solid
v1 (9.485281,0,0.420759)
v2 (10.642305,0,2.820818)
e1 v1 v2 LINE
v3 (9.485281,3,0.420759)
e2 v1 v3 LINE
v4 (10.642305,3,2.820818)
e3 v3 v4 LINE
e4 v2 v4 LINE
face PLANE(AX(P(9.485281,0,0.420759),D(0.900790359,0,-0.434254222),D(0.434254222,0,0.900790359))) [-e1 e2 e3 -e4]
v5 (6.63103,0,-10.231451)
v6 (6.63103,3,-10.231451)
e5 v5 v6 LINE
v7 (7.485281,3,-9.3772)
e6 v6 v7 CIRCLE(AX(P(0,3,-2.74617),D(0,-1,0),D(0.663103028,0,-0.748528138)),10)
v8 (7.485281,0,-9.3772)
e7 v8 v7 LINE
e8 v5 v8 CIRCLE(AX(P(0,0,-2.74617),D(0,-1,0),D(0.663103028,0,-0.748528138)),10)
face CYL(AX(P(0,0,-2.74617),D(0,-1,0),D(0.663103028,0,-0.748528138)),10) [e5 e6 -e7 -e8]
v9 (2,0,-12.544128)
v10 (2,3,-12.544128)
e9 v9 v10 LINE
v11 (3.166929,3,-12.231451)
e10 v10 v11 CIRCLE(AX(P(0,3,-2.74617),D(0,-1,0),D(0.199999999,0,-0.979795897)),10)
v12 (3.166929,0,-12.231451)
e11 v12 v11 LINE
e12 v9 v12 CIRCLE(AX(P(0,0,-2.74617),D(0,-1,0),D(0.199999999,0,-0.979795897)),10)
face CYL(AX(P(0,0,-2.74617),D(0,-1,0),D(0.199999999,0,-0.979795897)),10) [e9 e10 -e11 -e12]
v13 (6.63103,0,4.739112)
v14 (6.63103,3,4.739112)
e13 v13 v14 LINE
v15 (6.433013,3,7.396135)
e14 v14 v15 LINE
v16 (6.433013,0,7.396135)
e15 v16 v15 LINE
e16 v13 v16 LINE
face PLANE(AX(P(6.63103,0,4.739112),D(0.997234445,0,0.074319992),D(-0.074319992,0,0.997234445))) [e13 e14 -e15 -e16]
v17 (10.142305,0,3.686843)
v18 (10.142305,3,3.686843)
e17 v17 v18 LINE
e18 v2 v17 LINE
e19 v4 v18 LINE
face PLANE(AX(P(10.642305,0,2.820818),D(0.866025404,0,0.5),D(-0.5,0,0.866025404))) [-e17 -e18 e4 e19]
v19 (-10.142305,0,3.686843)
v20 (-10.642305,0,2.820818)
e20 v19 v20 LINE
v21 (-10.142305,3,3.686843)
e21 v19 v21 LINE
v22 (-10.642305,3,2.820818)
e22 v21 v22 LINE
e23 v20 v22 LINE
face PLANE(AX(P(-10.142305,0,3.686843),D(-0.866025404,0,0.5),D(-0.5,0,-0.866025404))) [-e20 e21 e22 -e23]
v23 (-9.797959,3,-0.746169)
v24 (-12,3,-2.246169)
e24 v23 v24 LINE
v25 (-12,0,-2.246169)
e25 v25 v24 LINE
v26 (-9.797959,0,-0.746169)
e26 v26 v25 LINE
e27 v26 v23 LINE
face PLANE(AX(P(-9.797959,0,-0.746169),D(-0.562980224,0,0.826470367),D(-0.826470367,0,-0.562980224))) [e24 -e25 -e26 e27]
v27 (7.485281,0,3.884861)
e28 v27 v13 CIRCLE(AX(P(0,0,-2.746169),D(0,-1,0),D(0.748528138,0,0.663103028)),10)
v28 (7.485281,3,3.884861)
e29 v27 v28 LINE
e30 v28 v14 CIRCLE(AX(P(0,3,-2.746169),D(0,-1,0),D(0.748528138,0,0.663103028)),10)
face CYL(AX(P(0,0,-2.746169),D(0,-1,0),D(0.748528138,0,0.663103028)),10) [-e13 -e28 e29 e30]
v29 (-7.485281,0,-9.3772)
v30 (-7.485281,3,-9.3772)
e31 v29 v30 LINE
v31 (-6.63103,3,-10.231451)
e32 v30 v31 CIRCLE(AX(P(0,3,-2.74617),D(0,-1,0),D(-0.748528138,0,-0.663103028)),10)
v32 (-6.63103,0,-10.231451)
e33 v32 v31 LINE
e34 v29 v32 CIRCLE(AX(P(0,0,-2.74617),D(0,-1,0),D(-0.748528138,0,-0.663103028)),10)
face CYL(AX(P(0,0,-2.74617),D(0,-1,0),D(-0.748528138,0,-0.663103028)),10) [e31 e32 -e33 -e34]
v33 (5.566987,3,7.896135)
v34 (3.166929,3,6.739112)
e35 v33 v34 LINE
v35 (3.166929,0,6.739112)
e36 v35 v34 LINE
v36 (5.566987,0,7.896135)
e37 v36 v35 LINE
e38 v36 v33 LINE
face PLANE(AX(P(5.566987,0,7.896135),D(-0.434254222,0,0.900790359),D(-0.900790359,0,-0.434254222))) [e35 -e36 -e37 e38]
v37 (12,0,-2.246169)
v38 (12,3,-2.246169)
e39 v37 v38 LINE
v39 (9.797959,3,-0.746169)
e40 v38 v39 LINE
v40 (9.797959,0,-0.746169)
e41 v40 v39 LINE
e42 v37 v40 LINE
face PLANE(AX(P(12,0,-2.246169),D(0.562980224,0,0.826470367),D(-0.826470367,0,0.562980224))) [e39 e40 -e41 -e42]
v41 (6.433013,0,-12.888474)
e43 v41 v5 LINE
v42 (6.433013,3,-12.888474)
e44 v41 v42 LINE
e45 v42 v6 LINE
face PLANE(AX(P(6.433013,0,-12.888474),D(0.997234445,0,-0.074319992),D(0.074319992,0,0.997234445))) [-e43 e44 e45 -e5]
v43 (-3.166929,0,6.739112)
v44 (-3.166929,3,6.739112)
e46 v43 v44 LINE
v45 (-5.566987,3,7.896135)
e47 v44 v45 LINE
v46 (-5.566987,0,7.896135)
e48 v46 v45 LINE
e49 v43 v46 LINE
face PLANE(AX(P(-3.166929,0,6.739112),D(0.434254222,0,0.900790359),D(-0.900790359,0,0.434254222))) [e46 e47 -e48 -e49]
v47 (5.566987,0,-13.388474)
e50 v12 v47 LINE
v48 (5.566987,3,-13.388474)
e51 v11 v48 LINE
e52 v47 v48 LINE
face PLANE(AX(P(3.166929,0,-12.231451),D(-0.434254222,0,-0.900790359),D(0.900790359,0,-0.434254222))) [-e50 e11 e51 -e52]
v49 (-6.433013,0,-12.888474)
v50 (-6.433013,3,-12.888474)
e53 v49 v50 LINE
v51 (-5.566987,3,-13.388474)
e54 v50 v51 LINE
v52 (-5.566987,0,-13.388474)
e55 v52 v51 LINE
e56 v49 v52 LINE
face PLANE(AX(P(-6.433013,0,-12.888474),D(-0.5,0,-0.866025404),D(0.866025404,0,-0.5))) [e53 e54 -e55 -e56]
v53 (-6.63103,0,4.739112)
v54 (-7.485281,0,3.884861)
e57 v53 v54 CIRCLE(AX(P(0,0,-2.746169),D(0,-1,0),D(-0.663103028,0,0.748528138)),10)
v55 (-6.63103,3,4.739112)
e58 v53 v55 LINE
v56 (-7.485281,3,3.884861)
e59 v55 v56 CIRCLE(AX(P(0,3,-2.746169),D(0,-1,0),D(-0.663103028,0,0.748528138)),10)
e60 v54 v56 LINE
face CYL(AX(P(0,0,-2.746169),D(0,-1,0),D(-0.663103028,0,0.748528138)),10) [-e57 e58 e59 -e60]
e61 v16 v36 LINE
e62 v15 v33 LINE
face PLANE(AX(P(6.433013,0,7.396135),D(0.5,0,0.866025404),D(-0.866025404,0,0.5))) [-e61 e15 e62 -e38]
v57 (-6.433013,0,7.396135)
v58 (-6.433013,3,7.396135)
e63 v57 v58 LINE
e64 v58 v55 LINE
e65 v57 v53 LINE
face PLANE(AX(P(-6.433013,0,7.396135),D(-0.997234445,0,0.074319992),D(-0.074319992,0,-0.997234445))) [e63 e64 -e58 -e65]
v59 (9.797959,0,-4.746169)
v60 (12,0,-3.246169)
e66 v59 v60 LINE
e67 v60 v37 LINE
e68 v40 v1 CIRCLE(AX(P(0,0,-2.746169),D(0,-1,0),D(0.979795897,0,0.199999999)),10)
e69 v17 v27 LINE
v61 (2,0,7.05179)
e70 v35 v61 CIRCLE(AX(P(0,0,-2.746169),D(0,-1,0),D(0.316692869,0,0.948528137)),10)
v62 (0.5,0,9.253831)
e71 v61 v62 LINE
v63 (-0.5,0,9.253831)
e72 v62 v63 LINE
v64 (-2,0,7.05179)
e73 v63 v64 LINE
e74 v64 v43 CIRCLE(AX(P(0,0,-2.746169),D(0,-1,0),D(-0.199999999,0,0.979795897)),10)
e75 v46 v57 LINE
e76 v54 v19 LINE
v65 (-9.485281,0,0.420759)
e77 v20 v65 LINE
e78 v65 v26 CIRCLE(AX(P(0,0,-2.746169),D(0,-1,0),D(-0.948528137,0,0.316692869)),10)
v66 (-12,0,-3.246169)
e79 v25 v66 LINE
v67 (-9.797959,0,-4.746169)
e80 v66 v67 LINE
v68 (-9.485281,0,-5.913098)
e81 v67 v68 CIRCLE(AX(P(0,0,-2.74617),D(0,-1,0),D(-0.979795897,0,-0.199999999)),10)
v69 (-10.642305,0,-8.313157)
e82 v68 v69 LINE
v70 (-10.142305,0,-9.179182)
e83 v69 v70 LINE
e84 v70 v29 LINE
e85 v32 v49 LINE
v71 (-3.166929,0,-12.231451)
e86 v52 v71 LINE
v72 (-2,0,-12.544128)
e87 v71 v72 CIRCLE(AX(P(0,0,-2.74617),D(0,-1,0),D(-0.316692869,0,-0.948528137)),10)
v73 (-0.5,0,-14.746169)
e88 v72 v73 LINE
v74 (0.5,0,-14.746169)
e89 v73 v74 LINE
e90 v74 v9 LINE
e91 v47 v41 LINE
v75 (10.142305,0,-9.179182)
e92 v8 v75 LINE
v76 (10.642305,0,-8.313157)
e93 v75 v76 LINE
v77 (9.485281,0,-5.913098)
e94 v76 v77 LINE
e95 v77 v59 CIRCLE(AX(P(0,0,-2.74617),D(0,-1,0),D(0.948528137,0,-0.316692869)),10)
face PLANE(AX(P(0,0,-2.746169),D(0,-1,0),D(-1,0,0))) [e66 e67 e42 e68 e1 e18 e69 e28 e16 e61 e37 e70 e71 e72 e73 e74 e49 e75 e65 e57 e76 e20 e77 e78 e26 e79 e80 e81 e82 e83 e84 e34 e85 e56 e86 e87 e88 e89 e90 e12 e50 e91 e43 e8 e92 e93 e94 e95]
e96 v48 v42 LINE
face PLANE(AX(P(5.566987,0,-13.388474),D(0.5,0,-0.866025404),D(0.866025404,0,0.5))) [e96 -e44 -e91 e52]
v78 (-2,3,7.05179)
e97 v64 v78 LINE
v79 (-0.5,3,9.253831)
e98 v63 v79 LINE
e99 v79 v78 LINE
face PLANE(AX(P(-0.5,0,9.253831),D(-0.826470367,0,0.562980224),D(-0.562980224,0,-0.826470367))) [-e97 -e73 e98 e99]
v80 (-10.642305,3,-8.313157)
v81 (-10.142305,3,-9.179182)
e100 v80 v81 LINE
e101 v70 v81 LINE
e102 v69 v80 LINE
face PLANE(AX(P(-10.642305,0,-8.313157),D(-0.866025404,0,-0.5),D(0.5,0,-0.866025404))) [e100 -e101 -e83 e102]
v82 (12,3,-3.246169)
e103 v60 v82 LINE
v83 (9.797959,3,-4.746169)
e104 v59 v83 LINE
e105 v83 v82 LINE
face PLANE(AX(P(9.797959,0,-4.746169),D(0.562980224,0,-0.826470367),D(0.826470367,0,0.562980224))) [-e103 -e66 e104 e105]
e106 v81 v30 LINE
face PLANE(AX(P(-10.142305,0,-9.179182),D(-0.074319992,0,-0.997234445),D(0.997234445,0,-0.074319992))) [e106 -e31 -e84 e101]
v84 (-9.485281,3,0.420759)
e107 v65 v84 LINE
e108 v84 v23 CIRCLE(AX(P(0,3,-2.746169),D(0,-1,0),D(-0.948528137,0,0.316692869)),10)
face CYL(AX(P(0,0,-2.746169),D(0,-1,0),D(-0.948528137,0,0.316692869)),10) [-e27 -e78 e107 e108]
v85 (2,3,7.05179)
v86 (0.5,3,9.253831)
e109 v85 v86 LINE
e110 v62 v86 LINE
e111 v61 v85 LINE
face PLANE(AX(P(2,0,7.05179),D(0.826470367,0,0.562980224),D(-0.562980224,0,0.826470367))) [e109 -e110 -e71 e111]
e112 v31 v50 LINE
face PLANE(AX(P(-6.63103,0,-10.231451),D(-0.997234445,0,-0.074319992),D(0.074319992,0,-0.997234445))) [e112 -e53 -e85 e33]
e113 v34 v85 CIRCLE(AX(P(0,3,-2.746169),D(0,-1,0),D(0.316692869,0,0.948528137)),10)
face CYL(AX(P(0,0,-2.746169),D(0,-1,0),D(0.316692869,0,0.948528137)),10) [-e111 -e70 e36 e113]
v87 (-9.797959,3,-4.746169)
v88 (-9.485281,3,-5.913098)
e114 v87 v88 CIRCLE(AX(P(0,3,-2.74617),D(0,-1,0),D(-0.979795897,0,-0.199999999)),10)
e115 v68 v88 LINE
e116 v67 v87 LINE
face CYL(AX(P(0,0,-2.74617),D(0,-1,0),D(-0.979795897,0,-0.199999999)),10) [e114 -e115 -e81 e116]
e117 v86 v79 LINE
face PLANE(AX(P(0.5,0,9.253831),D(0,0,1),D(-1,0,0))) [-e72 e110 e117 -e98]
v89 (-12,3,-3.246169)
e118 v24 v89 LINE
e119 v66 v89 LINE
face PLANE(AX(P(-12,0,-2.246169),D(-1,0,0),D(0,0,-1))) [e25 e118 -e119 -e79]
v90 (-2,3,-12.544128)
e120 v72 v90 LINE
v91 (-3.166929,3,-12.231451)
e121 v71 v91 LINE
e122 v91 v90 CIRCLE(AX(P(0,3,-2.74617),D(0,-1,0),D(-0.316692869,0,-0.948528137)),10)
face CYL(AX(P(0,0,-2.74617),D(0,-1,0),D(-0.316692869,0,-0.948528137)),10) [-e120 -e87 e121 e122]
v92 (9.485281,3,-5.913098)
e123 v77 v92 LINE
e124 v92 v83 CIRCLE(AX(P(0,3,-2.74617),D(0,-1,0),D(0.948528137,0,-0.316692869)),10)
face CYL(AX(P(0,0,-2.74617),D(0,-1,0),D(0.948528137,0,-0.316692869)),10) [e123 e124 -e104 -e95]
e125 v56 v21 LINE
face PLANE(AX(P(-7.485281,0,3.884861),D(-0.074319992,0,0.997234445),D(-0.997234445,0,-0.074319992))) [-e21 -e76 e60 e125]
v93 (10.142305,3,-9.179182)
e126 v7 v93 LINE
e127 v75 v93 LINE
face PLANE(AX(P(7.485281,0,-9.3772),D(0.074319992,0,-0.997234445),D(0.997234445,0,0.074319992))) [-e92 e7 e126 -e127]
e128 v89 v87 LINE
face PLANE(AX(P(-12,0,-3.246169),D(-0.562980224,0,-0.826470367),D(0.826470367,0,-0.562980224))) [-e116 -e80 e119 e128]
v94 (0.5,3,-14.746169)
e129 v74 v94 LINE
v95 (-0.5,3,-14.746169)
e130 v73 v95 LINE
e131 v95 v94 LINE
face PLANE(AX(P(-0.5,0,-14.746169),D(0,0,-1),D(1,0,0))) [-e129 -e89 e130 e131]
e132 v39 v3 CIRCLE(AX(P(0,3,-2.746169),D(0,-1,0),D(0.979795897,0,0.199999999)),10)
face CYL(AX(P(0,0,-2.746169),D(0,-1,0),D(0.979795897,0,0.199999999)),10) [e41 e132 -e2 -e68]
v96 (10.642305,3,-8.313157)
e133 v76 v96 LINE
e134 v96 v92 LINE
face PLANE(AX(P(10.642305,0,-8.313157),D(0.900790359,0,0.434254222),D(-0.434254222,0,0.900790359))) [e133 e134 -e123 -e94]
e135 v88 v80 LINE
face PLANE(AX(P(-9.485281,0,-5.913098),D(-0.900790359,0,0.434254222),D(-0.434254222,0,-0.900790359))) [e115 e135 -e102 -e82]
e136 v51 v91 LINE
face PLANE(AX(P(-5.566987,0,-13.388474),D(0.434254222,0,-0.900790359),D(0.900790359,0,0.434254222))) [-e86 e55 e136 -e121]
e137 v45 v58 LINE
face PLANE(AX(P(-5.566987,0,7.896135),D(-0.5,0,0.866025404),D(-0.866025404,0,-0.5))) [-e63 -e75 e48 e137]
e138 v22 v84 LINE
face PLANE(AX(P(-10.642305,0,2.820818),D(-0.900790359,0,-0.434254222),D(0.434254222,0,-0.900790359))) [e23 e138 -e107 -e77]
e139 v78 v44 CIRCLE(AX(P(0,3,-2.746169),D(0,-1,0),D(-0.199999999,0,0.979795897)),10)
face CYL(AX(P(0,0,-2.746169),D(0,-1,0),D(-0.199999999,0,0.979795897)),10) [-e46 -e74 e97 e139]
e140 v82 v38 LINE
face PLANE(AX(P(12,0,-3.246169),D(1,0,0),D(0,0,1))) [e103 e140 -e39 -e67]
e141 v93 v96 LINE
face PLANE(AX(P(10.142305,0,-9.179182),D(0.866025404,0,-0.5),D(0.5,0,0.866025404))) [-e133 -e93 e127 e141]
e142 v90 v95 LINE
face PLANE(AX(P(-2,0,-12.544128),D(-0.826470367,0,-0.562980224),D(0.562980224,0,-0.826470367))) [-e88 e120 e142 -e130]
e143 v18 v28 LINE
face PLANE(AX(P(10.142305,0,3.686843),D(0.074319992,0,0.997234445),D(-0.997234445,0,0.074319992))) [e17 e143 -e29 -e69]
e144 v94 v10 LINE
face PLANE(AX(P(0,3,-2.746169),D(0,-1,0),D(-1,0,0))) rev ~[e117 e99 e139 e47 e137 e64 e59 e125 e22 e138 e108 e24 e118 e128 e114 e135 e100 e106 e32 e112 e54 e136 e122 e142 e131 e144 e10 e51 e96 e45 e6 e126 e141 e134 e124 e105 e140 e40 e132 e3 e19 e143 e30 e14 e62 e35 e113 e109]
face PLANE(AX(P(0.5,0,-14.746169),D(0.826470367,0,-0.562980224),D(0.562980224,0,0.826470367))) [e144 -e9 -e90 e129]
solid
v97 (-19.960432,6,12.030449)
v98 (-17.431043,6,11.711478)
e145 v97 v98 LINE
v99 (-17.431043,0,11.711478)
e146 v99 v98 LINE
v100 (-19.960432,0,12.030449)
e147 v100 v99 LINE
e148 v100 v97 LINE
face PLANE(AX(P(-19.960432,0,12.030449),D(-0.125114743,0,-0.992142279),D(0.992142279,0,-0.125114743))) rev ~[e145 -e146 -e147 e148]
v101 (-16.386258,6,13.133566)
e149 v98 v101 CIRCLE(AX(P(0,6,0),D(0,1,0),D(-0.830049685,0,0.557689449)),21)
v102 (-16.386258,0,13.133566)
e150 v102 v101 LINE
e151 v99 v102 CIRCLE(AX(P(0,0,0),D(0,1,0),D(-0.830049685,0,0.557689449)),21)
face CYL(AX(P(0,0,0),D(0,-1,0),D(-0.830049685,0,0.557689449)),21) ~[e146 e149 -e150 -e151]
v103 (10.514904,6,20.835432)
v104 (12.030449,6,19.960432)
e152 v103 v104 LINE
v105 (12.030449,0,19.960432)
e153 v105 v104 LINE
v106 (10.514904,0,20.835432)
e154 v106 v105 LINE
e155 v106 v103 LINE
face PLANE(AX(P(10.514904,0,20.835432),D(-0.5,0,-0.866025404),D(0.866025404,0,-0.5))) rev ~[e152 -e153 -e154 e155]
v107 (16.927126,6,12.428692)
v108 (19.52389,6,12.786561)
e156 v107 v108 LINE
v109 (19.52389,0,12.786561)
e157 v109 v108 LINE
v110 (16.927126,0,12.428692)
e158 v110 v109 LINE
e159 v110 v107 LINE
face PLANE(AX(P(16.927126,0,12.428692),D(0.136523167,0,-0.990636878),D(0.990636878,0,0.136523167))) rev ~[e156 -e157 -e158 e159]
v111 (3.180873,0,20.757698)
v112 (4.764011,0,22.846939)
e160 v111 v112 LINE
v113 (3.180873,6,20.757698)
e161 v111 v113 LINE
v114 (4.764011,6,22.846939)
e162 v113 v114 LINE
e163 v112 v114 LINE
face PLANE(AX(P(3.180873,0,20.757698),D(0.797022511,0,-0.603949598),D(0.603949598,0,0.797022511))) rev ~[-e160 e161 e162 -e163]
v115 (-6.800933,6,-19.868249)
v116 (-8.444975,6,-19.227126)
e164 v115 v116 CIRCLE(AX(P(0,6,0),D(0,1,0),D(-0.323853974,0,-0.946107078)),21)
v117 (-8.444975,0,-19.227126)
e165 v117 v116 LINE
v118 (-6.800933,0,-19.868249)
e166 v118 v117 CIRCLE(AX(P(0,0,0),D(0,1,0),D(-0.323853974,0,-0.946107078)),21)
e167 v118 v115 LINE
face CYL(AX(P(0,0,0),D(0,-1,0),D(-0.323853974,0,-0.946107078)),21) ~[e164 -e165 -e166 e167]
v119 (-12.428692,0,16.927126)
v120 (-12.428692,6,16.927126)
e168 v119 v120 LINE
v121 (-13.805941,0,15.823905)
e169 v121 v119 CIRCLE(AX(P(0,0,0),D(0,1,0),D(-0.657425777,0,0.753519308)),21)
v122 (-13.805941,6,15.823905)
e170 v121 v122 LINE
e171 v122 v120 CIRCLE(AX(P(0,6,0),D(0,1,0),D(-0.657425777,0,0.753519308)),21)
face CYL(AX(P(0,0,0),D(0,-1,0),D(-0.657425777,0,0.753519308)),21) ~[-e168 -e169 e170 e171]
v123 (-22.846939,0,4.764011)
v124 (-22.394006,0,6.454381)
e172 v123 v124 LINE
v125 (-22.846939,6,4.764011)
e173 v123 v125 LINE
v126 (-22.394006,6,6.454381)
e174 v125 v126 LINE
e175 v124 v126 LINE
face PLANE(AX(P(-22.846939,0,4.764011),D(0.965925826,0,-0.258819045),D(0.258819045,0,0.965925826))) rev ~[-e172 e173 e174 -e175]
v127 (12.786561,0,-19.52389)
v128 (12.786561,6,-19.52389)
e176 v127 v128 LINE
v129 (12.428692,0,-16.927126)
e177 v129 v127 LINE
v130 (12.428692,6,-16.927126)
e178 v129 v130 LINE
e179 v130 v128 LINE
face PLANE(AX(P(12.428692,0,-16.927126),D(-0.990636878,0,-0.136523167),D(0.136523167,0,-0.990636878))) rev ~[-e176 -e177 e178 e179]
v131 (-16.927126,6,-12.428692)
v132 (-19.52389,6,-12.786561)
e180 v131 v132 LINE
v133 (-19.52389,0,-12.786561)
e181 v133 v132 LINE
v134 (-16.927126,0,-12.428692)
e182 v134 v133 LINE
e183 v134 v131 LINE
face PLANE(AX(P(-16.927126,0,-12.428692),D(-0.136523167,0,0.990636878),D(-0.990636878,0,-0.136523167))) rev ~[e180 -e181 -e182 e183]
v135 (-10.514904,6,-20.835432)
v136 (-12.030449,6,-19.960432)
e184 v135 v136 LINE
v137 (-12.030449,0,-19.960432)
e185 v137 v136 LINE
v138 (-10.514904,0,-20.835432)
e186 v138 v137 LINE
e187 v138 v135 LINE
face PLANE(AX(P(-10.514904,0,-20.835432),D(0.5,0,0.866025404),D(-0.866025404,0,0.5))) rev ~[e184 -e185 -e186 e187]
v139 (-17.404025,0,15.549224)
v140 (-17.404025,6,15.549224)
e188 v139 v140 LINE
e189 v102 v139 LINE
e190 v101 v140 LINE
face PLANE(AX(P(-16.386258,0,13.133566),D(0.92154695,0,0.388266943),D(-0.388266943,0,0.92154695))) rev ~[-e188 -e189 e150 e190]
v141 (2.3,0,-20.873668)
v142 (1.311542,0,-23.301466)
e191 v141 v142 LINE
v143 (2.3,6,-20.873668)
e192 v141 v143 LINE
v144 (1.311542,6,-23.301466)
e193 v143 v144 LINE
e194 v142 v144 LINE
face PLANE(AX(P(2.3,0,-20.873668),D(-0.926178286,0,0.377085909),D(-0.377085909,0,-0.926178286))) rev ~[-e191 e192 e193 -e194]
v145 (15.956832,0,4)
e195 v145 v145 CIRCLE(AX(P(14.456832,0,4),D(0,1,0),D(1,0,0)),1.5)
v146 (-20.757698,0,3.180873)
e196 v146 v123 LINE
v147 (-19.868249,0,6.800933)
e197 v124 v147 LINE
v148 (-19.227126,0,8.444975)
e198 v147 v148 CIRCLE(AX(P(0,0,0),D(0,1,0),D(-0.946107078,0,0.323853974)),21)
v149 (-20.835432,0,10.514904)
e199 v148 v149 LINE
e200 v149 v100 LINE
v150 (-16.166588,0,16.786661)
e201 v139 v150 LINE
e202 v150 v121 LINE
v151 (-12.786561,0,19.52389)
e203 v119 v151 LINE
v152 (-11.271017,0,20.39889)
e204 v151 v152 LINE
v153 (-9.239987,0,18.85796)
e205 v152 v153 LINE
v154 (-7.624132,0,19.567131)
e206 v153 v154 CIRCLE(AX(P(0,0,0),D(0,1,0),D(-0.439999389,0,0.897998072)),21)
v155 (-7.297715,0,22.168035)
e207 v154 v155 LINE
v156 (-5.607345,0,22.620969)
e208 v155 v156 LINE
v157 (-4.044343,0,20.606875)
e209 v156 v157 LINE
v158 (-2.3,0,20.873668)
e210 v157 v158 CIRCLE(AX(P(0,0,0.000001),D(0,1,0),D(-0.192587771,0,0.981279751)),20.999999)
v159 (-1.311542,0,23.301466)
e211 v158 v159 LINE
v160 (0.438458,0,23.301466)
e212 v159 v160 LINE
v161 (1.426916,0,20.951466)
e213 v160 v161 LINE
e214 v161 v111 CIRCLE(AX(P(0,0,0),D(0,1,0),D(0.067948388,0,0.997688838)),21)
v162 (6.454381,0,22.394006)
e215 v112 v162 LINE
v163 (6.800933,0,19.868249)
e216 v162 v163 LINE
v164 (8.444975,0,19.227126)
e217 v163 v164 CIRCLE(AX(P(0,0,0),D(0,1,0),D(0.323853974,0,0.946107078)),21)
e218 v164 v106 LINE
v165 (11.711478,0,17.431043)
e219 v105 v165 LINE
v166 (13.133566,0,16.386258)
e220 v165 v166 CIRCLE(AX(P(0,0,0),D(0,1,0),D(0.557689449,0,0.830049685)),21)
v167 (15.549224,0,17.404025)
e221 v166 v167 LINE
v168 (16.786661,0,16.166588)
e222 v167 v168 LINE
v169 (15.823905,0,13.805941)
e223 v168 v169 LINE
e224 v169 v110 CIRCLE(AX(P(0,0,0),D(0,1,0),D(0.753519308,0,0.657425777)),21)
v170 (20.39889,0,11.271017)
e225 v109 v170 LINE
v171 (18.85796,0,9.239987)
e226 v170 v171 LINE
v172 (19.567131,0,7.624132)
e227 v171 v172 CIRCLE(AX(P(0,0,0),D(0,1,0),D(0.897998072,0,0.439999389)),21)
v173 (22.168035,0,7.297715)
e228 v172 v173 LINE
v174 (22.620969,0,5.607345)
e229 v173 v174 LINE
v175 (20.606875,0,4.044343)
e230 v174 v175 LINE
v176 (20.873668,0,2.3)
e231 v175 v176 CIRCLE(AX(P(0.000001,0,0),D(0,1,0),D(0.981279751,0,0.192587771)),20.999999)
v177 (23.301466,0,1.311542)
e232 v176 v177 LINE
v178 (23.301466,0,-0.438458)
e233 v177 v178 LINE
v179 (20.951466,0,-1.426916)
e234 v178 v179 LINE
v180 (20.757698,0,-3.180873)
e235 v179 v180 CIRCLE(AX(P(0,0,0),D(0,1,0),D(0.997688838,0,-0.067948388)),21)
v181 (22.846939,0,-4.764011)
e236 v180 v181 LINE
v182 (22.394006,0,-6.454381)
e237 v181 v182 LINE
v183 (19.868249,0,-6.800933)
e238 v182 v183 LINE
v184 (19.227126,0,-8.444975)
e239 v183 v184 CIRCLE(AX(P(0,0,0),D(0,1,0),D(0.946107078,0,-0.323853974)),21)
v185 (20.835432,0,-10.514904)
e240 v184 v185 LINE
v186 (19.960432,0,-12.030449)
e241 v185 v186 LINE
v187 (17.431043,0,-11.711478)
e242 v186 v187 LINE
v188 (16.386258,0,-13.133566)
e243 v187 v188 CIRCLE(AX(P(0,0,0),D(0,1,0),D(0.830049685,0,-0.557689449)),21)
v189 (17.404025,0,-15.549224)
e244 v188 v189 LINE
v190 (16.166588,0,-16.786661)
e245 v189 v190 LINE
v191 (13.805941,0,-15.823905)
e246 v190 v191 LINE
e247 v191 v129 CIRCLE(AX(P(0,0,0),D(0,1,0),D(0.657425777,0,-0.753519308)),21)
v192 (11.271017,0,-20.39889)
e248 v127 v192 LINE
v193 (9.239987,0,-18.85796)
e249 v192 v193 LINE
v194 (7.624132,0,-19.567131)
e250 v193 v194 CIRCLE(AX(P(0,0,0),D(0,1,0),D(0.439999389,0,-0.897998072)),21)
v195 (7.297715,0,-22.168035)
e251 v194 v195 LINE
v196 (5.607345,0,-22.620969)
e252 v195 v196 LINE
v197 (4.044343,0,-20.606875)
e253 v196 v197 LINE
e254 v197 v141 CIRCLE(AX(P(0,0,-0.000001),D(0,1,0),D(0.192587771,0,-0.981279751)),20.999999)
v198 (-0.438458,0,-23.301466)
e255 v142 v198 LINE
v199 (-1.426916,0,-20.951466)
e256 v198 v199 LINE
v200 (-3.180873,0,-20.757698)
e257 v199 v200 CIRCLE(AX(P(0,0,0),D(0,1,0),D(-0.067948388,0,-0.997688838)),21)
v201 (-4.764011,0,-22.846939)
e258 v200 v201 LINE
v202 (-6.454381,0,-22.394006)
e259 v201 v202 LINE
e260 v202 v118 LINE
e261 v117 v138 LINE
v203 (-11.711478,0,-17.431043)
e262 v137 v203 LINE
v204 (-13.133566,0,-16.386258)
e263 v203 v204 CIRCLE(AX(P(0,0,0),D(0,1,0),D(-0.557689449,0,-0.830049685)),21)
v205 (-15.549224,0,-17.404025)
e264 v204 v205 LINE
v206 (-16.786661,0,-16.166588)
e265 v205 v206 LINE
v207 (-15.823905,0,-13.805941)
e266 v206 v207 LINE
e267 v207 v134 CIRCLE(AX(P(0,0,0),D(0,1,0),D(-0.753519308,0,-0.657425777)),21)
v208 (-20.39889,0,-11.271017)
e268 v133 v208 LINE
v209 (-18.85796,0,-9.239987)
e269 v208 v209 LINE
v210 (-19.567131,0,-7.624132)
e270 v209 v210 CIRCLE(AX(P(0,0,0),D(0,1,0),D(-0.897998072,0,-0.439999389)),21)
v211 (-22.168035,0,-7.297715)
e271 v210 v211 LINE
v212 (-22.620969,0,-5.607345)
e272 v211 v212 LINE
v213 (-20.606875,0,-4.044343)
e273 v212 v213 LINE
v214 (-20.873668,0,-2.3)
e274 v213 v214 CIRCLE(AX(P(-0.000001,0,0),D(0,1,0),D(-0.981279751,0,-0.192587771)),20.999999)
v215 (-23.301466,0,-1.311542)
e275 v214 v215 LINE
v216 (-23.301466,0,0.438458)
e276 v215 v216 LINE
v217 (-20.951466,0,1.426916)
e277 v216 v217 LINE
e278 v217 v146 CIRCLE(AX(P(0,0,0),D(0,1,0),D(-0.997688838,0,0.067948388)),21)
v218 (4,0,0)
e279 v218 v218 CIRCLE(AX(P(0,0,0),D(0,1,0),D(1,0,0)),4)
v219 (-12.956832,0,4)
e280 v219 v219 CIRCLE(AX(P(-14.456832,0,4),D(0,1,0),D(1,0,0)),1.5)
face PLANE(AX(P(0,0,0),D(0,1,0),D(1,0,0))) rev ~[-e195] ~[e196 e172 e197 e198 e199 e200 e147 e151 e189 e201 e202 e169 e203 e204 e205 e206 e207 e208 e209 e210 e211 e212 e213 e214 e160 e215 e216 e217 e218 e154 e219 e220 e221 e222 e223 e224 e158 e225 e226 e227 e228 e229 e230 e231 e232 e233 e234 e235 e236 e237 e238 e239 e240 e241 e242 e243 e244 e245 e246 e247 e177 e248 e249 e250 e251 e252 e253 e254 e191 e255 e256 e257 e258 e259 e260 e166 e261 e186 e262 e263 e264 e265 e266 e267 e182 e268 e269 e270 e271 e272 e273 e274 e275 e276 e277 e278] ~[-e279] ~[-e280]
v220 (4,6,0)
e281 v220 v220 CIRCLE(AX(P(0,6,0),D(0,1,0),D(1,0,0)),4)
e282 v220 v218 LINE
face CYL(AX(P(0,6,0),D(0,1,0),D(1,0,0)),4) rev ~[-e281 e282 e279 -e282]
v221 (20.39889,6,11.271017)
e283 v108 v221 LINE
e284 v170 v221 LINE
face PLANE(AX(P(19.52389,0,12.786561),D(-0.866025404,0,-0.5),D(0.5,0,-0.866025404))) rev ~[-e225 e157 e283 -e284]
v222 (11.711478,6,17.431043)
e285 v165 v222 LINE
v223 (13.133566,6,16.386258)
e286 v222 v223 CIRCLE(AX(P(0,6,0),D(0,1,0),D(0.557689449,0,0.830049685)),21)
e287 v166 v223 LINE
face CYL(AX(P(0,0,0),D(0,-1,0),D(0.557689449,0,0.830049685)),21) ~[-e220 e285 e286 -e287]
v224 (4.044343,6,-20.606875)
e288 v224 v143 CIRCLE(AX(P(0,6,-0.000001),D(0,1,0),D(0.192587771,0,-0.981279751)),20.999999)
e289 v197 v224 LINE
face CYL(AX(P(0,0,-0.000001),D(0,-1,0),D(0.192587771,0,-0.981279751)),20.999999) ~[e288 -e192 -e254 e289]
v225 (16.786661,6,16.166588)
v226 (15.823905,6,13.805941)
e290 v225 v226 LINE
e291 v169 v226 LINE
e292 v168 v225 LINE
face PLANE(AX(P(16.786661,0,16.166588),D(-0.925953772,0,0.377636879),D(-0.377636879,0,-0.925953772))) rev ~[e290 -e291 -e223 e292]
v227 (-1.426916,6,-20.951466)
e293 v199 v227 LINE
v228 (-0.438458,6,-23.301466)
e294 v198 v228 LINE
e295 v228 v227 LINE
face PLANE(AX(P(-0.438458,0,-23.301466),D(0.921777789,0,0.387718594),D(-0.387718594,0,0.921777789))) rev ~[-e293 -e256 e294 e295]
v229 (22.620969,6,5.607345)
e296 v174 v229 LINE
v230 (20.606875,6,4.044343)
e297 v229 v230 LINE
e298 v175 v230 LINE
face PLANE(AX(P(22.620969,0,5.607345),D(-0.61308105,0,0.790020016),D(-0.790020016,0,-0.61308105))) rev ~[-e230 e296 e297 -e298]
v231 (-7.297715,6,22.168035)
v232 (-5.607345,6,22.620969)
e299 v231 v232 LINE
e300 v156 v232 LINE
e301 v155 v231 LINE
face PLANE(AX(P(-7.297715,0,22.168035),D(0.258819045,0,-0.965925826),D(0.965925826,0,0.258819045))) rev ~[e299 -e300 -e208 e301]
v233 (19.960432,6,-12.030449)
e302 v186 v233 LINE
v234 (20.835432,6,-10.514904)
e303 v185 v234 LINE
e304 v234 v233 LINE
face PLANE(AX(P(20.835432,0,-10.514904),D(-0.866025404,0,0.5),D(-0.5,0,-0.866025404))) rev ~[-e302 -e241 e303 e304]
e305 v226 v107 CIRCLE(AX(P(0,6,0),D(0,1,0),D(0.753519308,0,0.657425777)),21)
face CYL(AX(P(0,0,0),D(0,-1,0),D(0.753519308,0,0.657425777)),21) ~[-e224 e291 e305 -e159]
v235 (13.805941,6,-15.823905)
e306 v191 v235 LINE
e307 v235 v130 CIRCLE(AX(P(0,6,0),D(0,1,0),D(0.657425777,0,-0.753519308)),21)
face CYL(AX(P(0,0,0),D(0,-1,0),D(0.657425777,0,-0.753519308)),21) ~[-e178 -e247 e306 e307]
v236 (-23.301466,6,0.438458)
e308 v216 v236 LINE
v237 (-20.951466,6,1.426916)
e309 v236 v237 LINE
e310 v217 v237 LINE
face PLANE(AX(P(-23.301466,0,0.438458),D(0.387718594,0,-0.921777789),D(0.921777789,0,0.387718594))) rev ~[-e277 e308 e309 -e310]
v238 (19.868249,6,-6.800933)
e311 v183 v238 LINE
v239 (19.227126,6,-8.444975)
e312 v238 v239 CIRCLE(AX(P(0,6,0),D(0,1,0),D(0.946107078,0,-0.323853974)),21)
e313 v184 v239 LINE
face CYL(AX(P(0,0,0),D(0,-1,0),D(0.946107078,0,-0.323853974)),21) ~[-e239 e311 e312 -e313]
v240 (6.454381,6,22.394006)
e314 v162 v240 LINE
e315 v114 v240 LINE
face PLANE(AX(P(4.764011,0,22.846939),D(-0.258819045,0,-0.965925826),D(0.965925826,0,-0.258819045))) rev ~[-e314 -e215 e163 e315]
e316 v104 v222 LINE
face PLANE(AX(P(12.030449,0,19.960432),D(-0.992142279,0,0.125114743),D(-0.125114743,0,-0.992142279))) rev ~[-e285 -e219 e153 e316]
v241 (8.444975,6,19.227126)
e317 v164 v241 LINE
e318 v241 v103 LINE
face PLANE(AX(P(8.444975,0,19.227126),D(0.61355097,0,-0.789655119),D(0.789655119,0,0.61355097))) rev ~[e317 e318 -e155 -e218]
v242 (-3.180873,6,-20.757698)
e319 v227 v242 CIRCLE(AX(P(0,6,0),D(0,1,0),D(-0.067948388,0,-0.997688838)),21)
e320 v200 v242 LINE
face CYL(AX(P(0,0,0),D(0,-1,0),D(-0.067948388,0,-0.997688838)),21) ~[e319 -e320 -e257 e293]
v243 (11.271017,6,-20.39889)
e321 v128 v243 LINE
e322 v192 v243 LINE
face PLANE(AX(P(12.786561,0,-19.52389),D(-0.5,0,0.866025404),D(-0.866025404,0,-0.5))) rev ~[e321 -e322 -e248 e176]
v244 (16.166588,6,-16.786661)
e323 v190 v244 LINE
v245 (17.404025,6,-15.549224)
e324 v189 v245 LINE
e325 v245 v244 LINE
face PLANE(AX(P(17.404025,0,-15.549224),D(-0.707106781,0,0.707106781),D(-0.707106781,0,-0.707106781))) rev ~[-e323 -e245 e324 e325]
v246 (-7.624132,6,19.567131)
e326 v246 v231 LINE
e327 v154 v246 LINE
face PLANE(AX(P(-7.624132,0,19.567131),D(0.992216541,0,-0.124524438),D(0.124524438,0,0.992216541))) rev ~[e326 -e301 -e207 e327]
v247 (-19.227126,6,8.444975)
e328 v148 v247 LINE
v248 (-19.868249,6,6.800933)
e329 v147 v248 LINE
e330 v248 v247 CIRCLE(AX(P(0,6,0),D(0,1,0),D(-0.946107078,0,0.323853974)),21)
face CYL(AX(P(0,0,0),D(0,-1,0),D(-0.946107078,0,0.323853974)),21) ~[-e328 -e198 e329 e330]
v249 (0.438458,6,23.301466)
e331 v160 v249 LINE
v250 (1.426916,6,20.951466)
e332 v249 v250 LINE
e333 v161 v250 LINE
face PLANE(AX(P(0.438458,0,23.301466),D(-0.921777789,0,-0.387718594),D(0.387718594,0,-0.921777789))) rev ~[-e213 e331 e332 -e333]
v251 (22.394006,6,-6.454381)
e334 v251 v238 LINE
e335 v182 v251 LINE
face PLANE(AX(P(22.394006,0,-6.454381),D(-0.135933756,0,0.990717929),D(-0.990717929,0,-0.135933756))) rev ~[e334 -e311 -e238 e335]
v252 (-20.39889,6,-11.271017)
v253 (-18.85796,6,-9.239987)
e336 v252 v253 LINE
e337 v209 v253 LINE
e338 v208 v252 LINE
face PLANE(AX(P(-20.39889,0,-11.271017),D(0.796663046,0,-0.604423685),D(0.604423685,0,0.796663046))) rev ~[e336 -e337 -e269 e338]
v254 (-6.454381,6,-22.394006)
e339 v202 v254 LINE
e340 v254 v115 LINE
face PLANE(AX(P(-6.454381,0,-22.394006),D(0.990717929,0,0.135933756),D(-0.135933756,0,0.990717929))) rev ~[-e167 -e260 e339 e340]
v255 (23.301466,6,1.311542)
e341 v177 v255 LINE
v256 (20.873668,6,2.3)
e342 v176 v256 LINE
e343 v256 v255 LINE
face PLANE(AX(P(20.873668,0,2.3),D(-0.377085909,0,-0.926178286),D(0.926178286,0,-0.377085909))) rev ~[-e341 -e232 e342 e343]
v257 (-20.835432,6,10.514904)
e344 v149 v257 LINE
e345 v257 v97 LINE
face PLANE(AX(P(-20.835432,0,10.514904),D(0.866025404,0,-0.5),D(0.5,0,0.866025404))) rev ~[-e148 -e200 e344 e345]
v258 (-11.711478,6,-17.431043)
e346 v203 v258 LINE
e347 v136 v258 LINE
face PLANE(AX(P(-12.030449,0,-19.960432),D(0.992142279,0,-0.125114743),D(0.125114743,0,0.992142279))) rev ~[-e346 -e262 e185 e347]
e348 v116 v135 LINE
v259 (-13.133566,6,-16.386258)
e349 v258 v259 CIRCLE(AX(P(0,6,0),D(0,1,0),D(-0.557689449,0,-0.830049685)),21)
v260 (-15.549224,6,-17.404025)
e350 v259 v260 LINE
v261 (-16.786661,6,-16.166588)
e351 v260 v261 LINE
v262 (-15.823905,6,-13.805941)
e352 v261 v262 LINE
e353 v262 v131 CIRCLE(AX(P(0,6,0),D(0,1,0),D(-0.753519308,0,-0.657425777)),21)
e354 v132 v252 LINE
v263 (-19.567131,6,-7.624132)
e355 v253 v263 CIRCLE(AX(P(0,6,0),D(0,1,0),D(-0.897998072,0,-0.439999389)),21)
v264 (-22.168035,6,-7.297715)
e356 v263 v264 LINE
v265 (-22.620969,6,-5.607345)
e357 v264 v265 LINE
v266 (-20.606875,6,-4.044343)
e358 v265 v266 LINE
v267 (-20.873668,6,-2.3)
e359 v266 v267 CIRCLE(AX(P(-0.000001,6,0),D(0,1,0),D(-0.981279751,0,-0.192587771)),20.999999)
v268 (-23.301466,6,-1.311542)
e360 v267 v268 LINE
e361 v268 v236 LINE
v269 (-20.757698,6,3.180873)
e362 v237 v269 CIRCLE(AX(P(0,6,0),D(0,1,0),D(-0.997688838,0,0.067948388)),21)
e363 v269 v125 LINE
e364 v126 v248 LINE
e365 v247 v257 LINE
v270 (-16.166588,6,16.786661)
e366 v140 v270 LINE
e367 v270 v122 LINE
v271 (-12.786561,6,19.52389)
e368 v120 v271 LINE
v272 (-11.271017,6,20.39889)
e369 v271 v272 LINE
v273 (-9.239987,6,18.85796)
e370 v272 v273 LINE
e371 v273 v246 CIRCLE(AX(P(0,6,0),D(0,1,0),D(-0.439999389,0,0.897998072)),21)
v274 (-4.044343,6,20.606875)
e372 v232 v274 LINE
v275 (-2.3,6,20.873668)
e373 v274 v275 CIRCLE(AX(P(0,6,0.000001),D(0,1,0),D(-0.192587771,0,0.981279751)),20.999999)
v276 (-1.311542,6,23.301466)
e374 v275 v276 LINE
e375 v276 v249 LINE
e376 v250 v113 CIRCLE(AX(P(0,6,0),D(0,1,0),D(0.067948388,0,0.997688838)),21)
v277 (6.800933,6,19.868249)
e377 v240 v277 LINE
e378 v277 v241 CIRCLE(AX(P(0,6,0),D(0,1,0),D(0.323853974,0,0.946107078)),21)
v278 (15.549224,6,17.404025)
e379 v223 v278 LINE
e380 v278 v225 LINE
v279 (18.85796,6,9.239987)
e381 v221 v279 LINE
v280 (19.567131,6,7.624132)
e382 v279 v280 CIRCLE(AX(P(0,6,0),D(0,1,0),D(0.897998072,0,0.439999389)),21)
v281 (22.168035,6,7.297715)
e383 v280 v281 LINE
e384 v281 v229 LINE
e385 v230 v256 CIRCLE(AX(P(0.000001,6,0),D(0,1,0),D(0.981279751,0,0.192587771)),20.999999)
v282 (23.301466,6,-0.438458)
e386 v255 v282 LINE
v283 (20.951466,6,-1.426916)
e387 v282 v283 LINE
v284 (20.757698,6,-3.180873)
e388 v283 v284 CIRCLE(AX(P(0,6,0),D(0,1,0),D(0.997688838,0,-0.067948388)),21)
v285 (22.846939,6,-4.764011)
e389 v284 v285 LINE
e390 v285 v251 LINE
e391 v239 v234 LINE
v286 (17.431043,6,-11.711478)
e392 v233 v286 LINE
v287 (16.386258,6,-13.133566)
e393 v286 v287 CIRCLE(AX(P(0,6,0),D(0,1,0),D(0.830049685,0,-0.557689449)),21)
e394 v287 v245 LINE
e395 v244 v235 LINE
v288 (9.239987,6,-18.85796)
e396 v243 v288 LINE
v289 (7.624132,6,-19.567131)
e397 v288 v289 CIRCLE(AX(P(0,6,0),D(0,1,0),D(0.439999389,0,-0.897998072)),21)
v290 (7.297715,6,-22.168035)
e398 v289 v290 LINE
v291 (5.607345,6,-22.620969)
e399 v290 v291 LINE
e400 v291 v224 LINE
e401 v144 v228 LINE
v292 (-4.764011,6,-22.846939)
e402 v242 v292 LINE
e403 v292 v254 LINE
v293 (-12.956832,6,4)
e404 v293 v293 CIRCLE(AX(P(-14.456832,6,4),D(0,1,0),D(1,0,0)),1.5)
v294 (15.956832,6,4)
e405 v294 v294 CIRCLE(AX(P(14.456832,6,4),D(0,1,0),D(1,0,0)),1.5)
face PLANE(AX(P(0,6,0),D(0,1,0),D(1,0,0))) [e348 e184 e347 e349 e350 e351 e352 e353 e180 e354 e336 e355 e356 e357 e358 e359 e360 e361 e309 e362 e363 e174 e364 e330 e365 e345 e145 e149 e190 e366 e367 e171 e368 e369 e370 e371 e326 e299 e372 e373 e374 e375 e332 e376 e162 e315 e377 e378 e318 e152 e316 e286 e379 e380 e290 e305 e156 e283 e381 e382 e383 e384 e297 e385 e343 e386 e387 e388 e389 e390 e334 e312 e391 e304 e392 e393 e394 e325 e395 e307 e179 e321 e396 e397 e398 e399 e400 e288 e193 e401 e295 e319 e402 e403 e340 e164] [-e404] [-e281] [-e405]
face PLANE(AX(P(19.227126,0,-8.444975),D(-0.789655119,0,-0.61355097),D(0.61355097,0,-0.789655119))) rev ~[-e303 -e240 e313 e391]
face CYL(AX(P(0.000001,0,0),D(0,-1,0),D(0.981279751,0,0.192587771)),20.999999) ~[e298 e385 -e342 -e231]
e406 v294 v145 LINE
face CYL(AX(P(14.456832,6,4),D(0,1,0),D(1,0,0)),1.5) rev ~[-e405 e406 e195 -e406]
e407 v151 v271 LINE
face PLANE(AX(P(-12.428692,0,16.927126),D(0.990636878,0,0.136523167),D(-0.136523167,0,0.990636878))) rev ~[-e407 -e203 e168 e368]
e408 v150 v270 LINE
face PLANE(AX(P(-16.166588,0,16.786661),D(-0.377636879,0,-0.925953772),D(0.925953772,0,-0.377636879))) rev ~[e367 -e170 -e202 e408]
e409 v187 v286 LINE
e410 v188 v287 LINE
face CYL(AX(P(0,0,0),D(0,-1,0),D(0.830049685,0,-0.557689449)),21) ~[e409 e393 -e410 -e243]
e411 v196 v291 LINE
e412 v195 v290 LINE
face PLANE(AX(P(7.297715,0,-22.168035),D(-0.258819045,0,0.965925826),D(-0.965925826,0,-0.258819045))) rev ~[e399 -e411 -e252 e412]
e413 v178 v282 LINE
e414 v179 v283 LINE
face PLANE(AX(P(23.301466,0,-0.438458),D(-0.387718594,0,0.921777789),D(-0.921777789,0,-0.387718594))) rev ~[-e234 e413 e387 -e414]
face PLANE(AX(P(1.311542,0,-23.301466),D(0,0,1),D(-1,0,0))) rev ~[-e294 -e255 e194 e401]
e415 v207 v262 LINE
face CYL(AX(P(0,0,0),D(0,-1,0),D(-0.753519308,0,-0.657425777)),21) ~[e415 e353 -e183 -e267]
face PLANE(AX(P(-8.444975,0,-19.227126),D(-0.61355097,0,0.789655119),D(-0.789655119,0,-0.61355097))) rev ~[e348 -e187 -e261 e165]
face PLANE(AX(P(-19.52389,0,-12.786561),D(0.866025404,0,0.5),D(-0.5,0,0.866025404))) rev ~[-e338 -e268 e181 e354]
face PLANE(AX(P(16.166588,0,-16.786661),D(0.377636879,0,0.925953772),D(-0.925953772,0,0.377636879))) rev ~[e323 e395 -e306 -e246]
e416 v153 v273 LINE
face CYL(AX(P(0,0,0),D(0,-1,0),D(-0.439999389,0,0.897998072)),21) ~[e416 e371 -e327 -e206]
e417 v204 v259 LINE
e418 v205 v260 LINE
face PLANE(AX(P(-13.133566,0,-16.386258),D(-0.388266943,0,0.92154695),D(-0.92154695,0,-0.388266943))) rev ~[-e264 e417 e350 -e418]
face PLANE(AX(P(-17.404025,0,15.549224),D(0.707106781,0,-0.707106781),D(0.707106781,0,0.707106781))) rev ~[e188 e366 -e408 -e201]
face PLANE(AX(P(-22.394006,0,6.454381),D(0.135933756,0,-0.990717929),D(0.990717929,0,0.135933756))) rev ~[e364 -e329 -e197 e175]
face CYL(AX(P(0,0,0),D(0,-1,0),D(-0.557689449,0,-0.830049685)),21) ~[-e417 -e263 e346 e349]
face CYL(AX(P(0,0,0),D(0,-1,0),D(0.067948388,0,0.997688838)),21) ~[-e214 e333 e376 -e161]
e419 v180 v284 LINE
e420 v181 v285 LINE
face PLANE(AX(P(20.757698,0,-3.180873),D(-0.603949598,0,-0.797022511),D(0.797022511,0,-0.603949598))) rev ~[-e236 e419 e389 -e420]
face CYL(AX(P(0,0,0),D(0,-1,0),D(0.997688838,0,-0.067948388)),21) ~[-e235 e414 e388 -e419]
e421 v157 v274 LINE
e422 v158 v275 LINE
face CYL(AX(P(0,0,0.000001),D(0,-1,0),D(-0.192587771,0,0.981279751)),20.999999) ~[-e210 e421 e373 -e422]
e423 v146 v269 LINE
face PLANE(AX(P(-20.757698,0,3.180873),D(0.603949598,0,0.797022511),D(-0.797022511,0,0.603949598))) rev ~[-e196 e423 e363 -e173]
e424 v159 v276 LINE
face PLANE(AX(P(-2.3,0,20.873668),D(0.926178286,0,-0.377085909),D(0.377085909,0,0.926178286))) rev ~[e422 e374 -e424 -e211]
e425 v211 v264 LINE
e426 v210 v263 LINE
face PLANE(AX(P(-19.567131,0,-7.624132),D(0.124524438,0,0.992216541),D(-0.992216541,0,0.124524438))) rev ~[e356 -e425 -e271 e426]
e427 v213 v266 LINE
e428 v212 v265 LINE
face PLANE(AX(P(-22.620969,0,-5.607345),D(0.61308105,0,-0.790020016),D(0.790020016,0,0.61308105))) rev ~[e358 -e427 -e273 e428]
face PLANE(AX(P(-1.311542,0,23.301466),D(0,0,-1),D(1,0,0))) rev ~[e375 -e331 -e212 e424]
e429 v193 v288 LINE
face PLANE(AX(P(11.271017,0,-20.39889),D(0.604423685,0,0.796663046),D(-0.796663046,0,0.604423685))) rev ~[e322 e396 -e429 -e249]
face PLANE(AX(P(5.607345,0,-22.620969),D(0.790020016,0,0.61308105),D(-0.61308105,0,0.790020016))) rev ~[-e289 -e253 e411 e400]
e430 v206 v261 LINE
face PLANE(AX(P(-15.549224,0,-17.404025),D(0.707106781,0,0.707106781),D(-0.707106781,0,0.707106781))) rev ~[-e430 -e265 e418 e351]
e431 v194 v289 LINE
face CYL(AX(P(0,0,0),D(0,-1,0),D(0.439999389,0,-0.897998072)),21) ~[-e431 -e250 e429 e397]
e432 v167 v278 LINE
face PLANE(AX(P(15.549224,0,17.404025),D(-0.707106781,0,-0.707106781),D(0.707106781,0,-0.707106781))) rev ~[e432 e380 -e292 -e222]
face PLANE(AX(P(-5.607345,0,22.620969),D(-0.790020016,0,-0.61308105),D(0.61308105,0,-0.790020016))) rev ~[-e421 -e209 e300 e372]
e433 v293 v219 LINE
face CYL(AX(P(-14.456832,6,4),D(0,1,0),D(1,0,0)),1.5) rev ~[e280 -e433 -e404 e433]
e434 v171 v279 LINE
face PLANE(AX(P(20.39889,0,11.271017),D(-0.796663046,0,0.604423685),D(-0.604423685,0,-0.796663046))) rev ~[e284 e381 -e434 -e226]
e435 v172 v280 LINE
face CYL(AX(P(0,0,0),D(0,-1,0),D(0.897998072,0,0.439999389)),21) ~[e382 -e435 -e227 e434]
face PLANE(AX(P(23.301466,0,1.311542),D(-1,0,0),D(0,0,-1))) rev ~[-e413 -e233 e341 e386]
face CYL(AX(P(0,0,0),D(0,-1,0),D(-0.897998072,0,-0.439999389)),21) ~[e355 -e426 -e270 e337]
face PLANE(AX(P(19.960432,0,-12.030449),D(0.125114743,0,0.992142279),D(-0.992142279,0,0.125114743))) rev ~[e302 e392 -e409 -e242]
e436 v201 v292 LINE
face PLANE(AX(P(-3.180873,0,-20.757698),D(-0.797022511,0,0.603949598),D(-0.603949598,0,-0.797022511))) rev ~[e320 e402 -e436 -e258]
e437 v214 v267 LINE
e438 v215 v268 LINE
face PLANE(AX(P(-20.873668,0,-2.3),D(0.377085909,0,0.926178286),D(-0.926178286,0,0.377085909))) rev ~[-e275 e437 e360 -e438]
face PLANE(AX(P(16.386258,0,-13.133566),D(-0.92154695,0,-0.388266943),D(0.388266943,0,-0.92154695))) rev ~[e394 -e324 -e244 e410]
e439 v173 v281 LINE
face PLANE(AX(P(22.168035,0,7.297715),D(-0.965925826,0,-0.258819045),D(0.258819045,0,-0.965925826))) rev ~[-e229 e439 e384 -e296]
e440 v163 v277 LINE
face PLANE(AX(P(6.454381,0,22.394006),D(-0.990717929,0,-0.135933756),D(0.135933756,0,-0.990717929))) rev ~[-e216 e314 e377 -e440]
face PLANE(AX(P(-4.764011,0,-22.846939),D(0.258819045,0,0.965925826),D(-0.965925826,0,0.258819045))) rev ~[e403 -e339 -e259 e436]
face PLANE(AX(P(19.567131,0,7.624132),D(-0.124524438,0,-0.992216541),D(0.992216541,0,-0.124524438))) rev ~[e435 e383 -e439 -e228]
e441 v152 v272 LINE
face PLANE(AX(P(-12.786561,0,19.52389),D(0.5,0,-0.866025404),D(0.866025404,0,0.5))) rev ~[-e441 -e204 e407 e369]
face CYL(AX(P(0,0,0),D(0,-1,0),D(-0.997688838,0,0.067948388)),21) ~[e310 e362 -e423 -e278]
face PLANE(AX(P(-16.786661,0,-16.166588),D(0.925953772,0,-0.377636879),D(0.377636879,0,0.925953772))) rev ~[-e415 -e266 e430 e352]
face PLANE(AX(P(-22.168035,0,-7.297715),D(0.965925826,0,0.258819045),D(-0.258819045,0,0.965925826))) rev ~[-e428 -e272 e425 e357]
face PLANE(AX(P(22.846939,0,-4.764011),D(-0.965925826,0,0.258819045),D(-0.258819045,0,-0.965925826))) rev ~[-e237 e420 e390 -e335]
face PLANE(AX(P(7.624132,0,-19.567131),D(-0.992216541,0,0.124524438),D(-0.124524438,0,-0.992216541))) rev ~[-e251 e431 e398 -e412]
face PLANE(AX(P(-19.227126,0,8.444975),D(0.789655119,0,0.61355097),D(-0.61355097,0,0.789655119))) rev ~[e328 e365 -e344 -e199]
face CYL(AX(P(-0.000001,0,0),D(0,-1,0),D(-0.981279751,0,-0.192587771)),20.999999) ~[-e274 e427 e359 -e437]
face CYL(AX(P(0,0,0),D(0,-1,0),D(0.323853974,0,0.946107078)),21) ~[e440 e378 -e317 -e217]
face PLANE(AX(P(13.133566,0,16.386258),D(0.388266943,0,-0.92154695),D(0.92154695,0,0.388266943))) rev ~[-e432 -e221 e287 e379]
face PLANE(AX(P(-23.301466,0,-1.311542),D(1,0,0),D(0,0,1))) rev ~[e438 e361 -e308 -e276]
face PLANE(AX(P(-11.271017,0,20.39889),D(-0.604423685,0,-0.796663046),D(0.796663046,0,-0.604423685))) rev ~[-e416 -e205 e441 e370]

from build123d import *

# Parameters (mm, degrees)
BOSS_EXTRUDE5_DEPTH = 6
BOSS_EXTRUDE6_DEPTH = 3
SKETCH4_R           = 4
CUT_EXTRUDE1_DEPTH  = 10
SKETCH5_R           = 1.5
CUT_EXTRUDE2_DEPTH  = 7


with BuildPart() as part:
    # Sketch3 → Boss-Extrude5 (new body)
    with BuildSketch(Plane(origin=(0, 0, 0), x_dir=(1, 0, 0), z_dir=(0, 1, 0))):
        with BuildLine():
            Line((23.301465589, -1.311541929), (23.301465589, 0.438458071))
            Line((23.301465589, 0.438458071), (20.951465589, 1.426916143))
            ThreePointArc((20.951465589, 1.426916143), (20.873013262, 2.30593091), (20.757698449, 3.180873321))
            Line((20.757698449, 3.180873321), (22.846939432, 4.764010852))
            Line((22.846939432, 4.764010852), (22.394006103, 6.454381048))
            Line((22.394006103, 6.454381048), (19.868248637, 6.800933471))
            ThreePointArc((19.868248637, 6.800933471), (19.564963746, 7.629691581), (19.227126431, 8.444975382))
            Line((19.227126431, 8.444975382), (20.83543211, 10.514904166))
            Line((20.83543211, 10.514904166), (19.96043211, 12.030448623))
            Line((19.96043211, 12.030448623), (17.431043375, 11.711478423))
            ThreePointArc((17.431043375, 11.711478423), (16.923594283, 12.433501379), (16.386257521, 13.133566327))
            Line((16.386257521, 13.133566327), (17.404024521, 15.549224138))
            Line((17.404024521, 15.549224138), (16.166587654, 16.786661005))
            Line((16.166587654, 16.786661005), (13.805941313, 15.823905474))
            ThreePointArc((13.805941313, 15.823905474), (13.128909838, 16.389988605), (12.42869224, 16.927126431))
            Line((12.42869224, 16.927126431), (12.786561423, 19.523890181))
            Line((12.786561423, 19.523890181), (11.271016966, 20.398890181))
            Line((11.271016966, 20.398890181), (9.239987166, 18.857959518))
            ThreePointArc((9.239987166, 18.857959518), (8.439511883, 19.229525194), (7.624132122, 19.567130842))
            Line((7.624132122, 19.567130842), (7.297715294, 22.168035373))
            Line((7.297715294, 22.168035373), (5.607345098, 22.620968702))
            Line((5.607345098, 22.620968702), (4.044343163, 20.606874784))
            ThreePointArc((4.044343163, 20.606874784), (3.174975141, 20.758601419), (2.3, 20.873667622))
            Line((2.3, 20.873667622), (1.311541929, 23.301465589))
            Line((1.311541929, 23.301465589), (-0.438458071, 23.301465589))
            Line((-0.438458071, 23.301465589), (-1.426916143, 20.951465589))
            ThreePointArc((-1.426916143, 20.951465589), (-2.30593091, 20.873013262), (-3.180873321, 20.757698449))
            Line((-3.180873321, 20.757698449), (-4.764010852, 22.846939432))
            Line((-4.764010852, 22.846939432), (-6.454381048, 22.394006103))
            Line((-6.454381048, 22.394006103), (-6.800933471, 19.868248637))
            ThreePointArc((-6.800933471, 19.868248637), (-7.629691581, 19.564963746), (-8.444975382, 19.227126431))
            Line((-8.444975382, 19.227126431), (-10.514904166, 20.83543211))
            Line((-10.514904166, 20.83543211), (-12.030448623, 19.96043211))
            Line((-12.030448623, 19.96043211), (-11.711478423, 17.431043375))
            ThreePointArc((-11.711478423, 17.431043375), (-12.433501379, 16.923594283), (-13.133566327, 16.386257521))
            Line((-13.133566327, 16.386257521), (-15.549224138, 17.404024521))
            Line((-15.549224138, 17.404024521), (-16.786661005, 16.166587654))
            Line((-16.786661005, 16.166587654), (-15.823905474, 13.805941313))
            ThreePointArc((-15.823905474, 13.805941313), (-16.389988605, 13.128909838), (-16.927126431, 12.42869224))
            Line((-16.927126431, 12.42869224), (-19.523890181, 12.786561423))
            Line((-19.523890181, 12.786561423), (-20.398890181, 11.271016966))
            Line((-20.398890181, 11.271016966), (-18.857959518, 9.239987166))
            ThreePointArc((-18.857959518, 9.239987166), (-19.229525194, 8.439511883), (-19.567130842, 7.624132122))
            Line((-19.567130842, 7.624132122), (-22.168035373, 7.297715294))
            Line((-22.168035373, 7.297715294), (-22.620968702, 5.607345098))
            Line((-22.620968702, 5.607345098), (-20.606874784, 4.044343163))
            ThreePointArc((-20.606874784, 4.044343163), (-20.758601419, 3.174975141), (-20.873667622, 2.3))
            Line((-20.873667622, 2.3), (-23.301465589, 1.311541929))
            Line((-23.301465589, 1.311541929), (-23.301465589, -0.438458071))
            Line((-23.301465589, -0.438458071), (-20.951465589, -1.426916143))
            ThreePointArc((-20.951465589, -1.426916143), (-20.873013262, -2.30593091), (-20.757698449, -3.180873321))
            Line((-20.757698449, -3.180873321), (-22.846939432, -4.764010852))
            Line((-22.846939432, -4.764010852), (-22.394006103, -6.454381048))
            Line((-22.394006103, -6.454381048), (-19.868248637, -6.800933471))
            ThreePointArc((-19.868248637, -6.800933471), (-19.564963746, -7.629691581), (-19.227126431, -8.444975382))
            Line((-19.227126431, -8.444975382), (-20.83543211, -10.514904166))
            Line((-20.83543211, -10.514904166), (-19.96043211, -12.030448623))
            Line((-19.96043211, -12.030448623), (-17.431043375, -11.711478423))
            ThreePointArc((-17.431043375, -11.711478423), (-16.923594283, -12.433501379), (-16.386257521, -13.133566327))
            Line((-16.386257521, -13.133566327), (-17.404024521, -15.549224138))
            Line((-17.404024521, -15.549224138), (-16.166587654, -16.786661005))
            Line((-16.166587654, -16.786661005), (-13.805941313, -15.823905474))
            ThreePointArc((-13.805941313, -15.823905474), (-13.128909838, -16.389988605), (-12.42869224, -16.927126431))
            Line((-12.42869224, -16.927126431), (-12.786561423, -19.523890181))
            Line((-12.786561423, -19.523890181), (-11.271016966, -20.398890181))
            Line((-11.271016966, -20.398890181), (-9.239987166, -18.857959518))
            ThreePointArc((-9.239987166, -18.857959518), (-8.439511883, -19.229525194), (-7.624132122, -19.567130842))
            Line((-7.624132122, -19.567130842), (-7.297715294, -22.168035373))
            Line((-7.297715294, -22.168035373), (-5.607345098, -22.620968702))
            Line((-5.607345098, -22.620968702), (-4.044343163, -20.606874784))
            ThreePointArc((-4.044343163, -20.606874784), (-3.174975141, -20.758601419), (-2.3, -20.873667622))
            Line((-2.3, -20.873667622), (-1.311541929, -23.301465589))
            Line((-1.311541929, -23.301465589), (0.438458071, -23.301465589))
            Line((0.438458071, -23.301465589), (1.426916143, -20.951465589))
            ThreePointArc((1.426916143, -20.951465589), (2.30593091, -20.873013262), (3.180873321, -20.757698449))
            Line((3.180873321, -20.757698449), (4.764010852, -22.846939432))
            Line((4.764010852, -22.846939432), (6.454381048, -22.394006103))
            Line((6.454381048, -22.394006103), (6.800933471, -19.868248637))
            ThreePointArc((6.800933471, -19.868248637), (7.629691581, -19.564963746), (8.444975382, -19.227126431))
            Line((8.444975382, -19.227126431), (10.514904166, -20.83543211))
            Line((10.514904166, -20.83543211), (12.030448623, -19.96043211))
            Line((12.030448623, -19.96043211), (11.711478423, -17.431043375))
            ThreePointArc((11.711478423, -17.431043375), (12.433501379, -16.923594283), (13.133566327, -16.386257521))
            Line((13.133566327, -16.386257521), (15.549224138, -17.404024521))
            Line((15.549224138, -17.404024521), (16.786661005, -16.166587654))
            Line((16.786661005, -16.166587654), (15.823905474, -13.805941313))
            ThreePointArc((15.823905474, -13.805941313), (16.389988605, -13.128909838), (16.927126431, -12.42869224))
            Line((16.927126431, -12.42869224), (19.523890181, -12.786561423))
            Line((19.523890181, -12.786561423), (20.398890181, -11.271016966))
            Line((20.398890181, -11.271016966), (18.857959518, -9.239987166))
            ThreePointArc((18.857959518, -9.239987166), (19.229525194, -8.439511883), (19.567130842, -7.624132122))
            Line((19.567130842, -7.624132122), (22.168035373, -7.297715294))
            Line((22.168035373, -7.297715294), (22.620968702, -5.607345098))
            Line((22.620968702, -5.607345098), (20.606874784, -4.044343163))
            ThreePointArc((20.606874784, -4.044343163), (20.758601419, -3.174975141), (20.873667622, -2.3))
            Line((20.873667622, -2.3), (23.301465589, -1.311541929))
        make_face()
    extrude(amount=BOSS_EXTRUDE5_DEPTH)

    # Sketch4 → Cut-Extrude1 (cut)
    with BuildSketch(Plane(origin=(0, 6, 0), x_dir=(1, 0, 0), z_dir=(0, 1, 0))):
        Circle(SKETCH4_R)
    extrude(amount=-CUT_EXTRUDE1_DEPTH, mode=Mode.SUBTRACT)

    # Sketch5 → Cut-Extrude2 (cut, through all)
    with BuildSketch(Plane(origin=(0, 6, 0), x_dir=(1, 0, 0), z_dir=(0, 1, 0))):
        with Locations((-14.456832295, -4)):
            Circle(SKETCH5_R)
        with Locations((14.456832295, -4)):
            Circle(SKETCH5_R)
    extrude(amount=-CUT_EXTRUDE2_DEPTH, mode=Mode.SUBTRACT)


with BuildPart() as body_2:
    # Sketch1 → Boss-Extrude6 (new body)
    with BuildSketch(Plane(origin=(0, 0, 0), x_dir=(1, 0, 0), z_dir=(0, 1, 0))):
        with BuildLine():
            Line((-0.5, 14.746169466), (0.5, 14.746169466))
            Line((0.5, 14.746169466), (2, 12.544128437))
            ThreePointArc((2, 12.544128437), (2.588190451, 12.405427729), (3.166928678, 12.23145084))
            Line((3.166928678, 12.23145084), (5.566987298, 13.388474311))
            Line((5.566987298, 13.388474311), (6.433012702, 12.888474311))
            Line((6.433012702, 12.888474311), (6.631030293, 10.23145084))
            ThreePointArc((6.631030293, 10.23145084), (7.071067812, 9.817237278), (7.485281374, 9.377199759))
            Line((7.485281374, 9.377199759), (10.142304845, 9.179182168))
            Line((10.142304845, 9.179182168), (10.642304845, 8.313156764))
            Line((10.642304845, 8.313156764), (9.485281374, 5.913098144))
            ThreePointArc((9.485281374, 5.913098144), (9.659258263, 5.334359917), (9.797958971, 4.746169466))
            Line((9.797958971, 4.746169466), (12, 3.246169466))
            Line((12, 3.246169466), (12, 2.246169466))
            Line((12, 2.246169466), (9.797958971, 0.746169466))
            ThreePointArc((9.797958971, 0.746169466), (9.659258263, 0.157979015), (9.485281374, -0.420759212))
            Line((9.485281374, -0.420759212), (10.642304845, -2.820817832))
            Line((10.642304845, -2.820817832), (10.142304845, -3.686843236))
            Line((10.142304845, -3.686843236), (7.485281374, -3.884860827))
            ThreePointArc((7.485281374, -3.884860827), (7.071067812, -4.324898346), (6.631030293, -4.739111908))
            Line((6.631030293, -4.739111908), (6.433012702, -7.39613538))
            Line((6.433012702, -7.39613538), (5.566987298, -7.89613538))
            Line((5.566987298, -7.89613538), (3.166928678, -6.739111908))
            ThreePointArc((3.166928678, -6.739111908), (2.588190451, -6.913088797), (2, -7.051789505))
            Line((2, -7.051789505), (0.5, -9.253830534))
            Line((0.5, -9.253830534), (-0.5, -9.253830534))
            Line((-0.5, -9.253830534), (-2, -7.051789505))
            ThreePointArc((-2, -7.051789505), (-2.588190451, -6.913088797), (-3.166928678, -6.739111908))
            Line((-3.166928678, -6.739111908), (-5.566987298, -7.89613538))
            Line((-5.566987298, -7.89613538), (-6.433012702, -7.39613538))
            Line((-6.433012702, -7.39613538), (-6.631030293, -4.739111908))
            ThreePointArc((-6.631030293, -4.739111908), (-7.071067812, -4.324898346), (-7.485281374, -3.884860827))
            Line((-7.485281374, -3.884860827), (-10.142304845, -3.686843236))
            Line((-10.142304845, -3.686843236), (-10.642304845, -2.820817832))
            Line((-10.642304845, -2.820817832), (-9.485281374, -0.420759212))
            ThreePointArc((-9.485281374, -0.420759212), (-9.659258263, 0.157979015), (-9.797958971, 0.746169466))
            Line((-9.797958971, 0.746169466), (-12, 2.246169466))
            Line((-12, 2.246169466), (-12, 3.246169466))
            Line((-12, 3.246169466), (-9.797958971, 4.746169466))
            ThreePointArc((-9.797958971, 4.746169466), (-9.659258263, 5.334359917), (-9.485281374, 5.913098144))
            Line((-9.485281374, 5.913098144), (-10.642304845, 8.313156764))
            Line((-10.642304845, 8.313156764), (-10.142304845, 9.179182168))
            Line((-10.142304845, 9.179182168), (-7.485281374, 9.377199759))
            ThreePointArc((-7.485281374, 9.377199759), (-7.071067812, 9.817237278), (-6.631030293, 10.23145084))
            Line((-6.631030293, 10.23145084), (-6.433012702, 12.888474311))
            Line((-6.433012702, 12.888474311), (-5.566987298, 13.388474311))
            Line((-5.566987298, 13.388474311), (-3.166928678, 12.23145084))
            ThreePointArc((-3.166928678, 12.23145084), (-2.588190451, 12.405427729), (-2, 12.544128437))
            Line((-2, 12.544128437), (-0.5, 14.746169466))
        make_face()
    extrude(amount=BOSS_EXTRUDE6_DEPTH)


solid = Compound([part.part, body_2.part])
